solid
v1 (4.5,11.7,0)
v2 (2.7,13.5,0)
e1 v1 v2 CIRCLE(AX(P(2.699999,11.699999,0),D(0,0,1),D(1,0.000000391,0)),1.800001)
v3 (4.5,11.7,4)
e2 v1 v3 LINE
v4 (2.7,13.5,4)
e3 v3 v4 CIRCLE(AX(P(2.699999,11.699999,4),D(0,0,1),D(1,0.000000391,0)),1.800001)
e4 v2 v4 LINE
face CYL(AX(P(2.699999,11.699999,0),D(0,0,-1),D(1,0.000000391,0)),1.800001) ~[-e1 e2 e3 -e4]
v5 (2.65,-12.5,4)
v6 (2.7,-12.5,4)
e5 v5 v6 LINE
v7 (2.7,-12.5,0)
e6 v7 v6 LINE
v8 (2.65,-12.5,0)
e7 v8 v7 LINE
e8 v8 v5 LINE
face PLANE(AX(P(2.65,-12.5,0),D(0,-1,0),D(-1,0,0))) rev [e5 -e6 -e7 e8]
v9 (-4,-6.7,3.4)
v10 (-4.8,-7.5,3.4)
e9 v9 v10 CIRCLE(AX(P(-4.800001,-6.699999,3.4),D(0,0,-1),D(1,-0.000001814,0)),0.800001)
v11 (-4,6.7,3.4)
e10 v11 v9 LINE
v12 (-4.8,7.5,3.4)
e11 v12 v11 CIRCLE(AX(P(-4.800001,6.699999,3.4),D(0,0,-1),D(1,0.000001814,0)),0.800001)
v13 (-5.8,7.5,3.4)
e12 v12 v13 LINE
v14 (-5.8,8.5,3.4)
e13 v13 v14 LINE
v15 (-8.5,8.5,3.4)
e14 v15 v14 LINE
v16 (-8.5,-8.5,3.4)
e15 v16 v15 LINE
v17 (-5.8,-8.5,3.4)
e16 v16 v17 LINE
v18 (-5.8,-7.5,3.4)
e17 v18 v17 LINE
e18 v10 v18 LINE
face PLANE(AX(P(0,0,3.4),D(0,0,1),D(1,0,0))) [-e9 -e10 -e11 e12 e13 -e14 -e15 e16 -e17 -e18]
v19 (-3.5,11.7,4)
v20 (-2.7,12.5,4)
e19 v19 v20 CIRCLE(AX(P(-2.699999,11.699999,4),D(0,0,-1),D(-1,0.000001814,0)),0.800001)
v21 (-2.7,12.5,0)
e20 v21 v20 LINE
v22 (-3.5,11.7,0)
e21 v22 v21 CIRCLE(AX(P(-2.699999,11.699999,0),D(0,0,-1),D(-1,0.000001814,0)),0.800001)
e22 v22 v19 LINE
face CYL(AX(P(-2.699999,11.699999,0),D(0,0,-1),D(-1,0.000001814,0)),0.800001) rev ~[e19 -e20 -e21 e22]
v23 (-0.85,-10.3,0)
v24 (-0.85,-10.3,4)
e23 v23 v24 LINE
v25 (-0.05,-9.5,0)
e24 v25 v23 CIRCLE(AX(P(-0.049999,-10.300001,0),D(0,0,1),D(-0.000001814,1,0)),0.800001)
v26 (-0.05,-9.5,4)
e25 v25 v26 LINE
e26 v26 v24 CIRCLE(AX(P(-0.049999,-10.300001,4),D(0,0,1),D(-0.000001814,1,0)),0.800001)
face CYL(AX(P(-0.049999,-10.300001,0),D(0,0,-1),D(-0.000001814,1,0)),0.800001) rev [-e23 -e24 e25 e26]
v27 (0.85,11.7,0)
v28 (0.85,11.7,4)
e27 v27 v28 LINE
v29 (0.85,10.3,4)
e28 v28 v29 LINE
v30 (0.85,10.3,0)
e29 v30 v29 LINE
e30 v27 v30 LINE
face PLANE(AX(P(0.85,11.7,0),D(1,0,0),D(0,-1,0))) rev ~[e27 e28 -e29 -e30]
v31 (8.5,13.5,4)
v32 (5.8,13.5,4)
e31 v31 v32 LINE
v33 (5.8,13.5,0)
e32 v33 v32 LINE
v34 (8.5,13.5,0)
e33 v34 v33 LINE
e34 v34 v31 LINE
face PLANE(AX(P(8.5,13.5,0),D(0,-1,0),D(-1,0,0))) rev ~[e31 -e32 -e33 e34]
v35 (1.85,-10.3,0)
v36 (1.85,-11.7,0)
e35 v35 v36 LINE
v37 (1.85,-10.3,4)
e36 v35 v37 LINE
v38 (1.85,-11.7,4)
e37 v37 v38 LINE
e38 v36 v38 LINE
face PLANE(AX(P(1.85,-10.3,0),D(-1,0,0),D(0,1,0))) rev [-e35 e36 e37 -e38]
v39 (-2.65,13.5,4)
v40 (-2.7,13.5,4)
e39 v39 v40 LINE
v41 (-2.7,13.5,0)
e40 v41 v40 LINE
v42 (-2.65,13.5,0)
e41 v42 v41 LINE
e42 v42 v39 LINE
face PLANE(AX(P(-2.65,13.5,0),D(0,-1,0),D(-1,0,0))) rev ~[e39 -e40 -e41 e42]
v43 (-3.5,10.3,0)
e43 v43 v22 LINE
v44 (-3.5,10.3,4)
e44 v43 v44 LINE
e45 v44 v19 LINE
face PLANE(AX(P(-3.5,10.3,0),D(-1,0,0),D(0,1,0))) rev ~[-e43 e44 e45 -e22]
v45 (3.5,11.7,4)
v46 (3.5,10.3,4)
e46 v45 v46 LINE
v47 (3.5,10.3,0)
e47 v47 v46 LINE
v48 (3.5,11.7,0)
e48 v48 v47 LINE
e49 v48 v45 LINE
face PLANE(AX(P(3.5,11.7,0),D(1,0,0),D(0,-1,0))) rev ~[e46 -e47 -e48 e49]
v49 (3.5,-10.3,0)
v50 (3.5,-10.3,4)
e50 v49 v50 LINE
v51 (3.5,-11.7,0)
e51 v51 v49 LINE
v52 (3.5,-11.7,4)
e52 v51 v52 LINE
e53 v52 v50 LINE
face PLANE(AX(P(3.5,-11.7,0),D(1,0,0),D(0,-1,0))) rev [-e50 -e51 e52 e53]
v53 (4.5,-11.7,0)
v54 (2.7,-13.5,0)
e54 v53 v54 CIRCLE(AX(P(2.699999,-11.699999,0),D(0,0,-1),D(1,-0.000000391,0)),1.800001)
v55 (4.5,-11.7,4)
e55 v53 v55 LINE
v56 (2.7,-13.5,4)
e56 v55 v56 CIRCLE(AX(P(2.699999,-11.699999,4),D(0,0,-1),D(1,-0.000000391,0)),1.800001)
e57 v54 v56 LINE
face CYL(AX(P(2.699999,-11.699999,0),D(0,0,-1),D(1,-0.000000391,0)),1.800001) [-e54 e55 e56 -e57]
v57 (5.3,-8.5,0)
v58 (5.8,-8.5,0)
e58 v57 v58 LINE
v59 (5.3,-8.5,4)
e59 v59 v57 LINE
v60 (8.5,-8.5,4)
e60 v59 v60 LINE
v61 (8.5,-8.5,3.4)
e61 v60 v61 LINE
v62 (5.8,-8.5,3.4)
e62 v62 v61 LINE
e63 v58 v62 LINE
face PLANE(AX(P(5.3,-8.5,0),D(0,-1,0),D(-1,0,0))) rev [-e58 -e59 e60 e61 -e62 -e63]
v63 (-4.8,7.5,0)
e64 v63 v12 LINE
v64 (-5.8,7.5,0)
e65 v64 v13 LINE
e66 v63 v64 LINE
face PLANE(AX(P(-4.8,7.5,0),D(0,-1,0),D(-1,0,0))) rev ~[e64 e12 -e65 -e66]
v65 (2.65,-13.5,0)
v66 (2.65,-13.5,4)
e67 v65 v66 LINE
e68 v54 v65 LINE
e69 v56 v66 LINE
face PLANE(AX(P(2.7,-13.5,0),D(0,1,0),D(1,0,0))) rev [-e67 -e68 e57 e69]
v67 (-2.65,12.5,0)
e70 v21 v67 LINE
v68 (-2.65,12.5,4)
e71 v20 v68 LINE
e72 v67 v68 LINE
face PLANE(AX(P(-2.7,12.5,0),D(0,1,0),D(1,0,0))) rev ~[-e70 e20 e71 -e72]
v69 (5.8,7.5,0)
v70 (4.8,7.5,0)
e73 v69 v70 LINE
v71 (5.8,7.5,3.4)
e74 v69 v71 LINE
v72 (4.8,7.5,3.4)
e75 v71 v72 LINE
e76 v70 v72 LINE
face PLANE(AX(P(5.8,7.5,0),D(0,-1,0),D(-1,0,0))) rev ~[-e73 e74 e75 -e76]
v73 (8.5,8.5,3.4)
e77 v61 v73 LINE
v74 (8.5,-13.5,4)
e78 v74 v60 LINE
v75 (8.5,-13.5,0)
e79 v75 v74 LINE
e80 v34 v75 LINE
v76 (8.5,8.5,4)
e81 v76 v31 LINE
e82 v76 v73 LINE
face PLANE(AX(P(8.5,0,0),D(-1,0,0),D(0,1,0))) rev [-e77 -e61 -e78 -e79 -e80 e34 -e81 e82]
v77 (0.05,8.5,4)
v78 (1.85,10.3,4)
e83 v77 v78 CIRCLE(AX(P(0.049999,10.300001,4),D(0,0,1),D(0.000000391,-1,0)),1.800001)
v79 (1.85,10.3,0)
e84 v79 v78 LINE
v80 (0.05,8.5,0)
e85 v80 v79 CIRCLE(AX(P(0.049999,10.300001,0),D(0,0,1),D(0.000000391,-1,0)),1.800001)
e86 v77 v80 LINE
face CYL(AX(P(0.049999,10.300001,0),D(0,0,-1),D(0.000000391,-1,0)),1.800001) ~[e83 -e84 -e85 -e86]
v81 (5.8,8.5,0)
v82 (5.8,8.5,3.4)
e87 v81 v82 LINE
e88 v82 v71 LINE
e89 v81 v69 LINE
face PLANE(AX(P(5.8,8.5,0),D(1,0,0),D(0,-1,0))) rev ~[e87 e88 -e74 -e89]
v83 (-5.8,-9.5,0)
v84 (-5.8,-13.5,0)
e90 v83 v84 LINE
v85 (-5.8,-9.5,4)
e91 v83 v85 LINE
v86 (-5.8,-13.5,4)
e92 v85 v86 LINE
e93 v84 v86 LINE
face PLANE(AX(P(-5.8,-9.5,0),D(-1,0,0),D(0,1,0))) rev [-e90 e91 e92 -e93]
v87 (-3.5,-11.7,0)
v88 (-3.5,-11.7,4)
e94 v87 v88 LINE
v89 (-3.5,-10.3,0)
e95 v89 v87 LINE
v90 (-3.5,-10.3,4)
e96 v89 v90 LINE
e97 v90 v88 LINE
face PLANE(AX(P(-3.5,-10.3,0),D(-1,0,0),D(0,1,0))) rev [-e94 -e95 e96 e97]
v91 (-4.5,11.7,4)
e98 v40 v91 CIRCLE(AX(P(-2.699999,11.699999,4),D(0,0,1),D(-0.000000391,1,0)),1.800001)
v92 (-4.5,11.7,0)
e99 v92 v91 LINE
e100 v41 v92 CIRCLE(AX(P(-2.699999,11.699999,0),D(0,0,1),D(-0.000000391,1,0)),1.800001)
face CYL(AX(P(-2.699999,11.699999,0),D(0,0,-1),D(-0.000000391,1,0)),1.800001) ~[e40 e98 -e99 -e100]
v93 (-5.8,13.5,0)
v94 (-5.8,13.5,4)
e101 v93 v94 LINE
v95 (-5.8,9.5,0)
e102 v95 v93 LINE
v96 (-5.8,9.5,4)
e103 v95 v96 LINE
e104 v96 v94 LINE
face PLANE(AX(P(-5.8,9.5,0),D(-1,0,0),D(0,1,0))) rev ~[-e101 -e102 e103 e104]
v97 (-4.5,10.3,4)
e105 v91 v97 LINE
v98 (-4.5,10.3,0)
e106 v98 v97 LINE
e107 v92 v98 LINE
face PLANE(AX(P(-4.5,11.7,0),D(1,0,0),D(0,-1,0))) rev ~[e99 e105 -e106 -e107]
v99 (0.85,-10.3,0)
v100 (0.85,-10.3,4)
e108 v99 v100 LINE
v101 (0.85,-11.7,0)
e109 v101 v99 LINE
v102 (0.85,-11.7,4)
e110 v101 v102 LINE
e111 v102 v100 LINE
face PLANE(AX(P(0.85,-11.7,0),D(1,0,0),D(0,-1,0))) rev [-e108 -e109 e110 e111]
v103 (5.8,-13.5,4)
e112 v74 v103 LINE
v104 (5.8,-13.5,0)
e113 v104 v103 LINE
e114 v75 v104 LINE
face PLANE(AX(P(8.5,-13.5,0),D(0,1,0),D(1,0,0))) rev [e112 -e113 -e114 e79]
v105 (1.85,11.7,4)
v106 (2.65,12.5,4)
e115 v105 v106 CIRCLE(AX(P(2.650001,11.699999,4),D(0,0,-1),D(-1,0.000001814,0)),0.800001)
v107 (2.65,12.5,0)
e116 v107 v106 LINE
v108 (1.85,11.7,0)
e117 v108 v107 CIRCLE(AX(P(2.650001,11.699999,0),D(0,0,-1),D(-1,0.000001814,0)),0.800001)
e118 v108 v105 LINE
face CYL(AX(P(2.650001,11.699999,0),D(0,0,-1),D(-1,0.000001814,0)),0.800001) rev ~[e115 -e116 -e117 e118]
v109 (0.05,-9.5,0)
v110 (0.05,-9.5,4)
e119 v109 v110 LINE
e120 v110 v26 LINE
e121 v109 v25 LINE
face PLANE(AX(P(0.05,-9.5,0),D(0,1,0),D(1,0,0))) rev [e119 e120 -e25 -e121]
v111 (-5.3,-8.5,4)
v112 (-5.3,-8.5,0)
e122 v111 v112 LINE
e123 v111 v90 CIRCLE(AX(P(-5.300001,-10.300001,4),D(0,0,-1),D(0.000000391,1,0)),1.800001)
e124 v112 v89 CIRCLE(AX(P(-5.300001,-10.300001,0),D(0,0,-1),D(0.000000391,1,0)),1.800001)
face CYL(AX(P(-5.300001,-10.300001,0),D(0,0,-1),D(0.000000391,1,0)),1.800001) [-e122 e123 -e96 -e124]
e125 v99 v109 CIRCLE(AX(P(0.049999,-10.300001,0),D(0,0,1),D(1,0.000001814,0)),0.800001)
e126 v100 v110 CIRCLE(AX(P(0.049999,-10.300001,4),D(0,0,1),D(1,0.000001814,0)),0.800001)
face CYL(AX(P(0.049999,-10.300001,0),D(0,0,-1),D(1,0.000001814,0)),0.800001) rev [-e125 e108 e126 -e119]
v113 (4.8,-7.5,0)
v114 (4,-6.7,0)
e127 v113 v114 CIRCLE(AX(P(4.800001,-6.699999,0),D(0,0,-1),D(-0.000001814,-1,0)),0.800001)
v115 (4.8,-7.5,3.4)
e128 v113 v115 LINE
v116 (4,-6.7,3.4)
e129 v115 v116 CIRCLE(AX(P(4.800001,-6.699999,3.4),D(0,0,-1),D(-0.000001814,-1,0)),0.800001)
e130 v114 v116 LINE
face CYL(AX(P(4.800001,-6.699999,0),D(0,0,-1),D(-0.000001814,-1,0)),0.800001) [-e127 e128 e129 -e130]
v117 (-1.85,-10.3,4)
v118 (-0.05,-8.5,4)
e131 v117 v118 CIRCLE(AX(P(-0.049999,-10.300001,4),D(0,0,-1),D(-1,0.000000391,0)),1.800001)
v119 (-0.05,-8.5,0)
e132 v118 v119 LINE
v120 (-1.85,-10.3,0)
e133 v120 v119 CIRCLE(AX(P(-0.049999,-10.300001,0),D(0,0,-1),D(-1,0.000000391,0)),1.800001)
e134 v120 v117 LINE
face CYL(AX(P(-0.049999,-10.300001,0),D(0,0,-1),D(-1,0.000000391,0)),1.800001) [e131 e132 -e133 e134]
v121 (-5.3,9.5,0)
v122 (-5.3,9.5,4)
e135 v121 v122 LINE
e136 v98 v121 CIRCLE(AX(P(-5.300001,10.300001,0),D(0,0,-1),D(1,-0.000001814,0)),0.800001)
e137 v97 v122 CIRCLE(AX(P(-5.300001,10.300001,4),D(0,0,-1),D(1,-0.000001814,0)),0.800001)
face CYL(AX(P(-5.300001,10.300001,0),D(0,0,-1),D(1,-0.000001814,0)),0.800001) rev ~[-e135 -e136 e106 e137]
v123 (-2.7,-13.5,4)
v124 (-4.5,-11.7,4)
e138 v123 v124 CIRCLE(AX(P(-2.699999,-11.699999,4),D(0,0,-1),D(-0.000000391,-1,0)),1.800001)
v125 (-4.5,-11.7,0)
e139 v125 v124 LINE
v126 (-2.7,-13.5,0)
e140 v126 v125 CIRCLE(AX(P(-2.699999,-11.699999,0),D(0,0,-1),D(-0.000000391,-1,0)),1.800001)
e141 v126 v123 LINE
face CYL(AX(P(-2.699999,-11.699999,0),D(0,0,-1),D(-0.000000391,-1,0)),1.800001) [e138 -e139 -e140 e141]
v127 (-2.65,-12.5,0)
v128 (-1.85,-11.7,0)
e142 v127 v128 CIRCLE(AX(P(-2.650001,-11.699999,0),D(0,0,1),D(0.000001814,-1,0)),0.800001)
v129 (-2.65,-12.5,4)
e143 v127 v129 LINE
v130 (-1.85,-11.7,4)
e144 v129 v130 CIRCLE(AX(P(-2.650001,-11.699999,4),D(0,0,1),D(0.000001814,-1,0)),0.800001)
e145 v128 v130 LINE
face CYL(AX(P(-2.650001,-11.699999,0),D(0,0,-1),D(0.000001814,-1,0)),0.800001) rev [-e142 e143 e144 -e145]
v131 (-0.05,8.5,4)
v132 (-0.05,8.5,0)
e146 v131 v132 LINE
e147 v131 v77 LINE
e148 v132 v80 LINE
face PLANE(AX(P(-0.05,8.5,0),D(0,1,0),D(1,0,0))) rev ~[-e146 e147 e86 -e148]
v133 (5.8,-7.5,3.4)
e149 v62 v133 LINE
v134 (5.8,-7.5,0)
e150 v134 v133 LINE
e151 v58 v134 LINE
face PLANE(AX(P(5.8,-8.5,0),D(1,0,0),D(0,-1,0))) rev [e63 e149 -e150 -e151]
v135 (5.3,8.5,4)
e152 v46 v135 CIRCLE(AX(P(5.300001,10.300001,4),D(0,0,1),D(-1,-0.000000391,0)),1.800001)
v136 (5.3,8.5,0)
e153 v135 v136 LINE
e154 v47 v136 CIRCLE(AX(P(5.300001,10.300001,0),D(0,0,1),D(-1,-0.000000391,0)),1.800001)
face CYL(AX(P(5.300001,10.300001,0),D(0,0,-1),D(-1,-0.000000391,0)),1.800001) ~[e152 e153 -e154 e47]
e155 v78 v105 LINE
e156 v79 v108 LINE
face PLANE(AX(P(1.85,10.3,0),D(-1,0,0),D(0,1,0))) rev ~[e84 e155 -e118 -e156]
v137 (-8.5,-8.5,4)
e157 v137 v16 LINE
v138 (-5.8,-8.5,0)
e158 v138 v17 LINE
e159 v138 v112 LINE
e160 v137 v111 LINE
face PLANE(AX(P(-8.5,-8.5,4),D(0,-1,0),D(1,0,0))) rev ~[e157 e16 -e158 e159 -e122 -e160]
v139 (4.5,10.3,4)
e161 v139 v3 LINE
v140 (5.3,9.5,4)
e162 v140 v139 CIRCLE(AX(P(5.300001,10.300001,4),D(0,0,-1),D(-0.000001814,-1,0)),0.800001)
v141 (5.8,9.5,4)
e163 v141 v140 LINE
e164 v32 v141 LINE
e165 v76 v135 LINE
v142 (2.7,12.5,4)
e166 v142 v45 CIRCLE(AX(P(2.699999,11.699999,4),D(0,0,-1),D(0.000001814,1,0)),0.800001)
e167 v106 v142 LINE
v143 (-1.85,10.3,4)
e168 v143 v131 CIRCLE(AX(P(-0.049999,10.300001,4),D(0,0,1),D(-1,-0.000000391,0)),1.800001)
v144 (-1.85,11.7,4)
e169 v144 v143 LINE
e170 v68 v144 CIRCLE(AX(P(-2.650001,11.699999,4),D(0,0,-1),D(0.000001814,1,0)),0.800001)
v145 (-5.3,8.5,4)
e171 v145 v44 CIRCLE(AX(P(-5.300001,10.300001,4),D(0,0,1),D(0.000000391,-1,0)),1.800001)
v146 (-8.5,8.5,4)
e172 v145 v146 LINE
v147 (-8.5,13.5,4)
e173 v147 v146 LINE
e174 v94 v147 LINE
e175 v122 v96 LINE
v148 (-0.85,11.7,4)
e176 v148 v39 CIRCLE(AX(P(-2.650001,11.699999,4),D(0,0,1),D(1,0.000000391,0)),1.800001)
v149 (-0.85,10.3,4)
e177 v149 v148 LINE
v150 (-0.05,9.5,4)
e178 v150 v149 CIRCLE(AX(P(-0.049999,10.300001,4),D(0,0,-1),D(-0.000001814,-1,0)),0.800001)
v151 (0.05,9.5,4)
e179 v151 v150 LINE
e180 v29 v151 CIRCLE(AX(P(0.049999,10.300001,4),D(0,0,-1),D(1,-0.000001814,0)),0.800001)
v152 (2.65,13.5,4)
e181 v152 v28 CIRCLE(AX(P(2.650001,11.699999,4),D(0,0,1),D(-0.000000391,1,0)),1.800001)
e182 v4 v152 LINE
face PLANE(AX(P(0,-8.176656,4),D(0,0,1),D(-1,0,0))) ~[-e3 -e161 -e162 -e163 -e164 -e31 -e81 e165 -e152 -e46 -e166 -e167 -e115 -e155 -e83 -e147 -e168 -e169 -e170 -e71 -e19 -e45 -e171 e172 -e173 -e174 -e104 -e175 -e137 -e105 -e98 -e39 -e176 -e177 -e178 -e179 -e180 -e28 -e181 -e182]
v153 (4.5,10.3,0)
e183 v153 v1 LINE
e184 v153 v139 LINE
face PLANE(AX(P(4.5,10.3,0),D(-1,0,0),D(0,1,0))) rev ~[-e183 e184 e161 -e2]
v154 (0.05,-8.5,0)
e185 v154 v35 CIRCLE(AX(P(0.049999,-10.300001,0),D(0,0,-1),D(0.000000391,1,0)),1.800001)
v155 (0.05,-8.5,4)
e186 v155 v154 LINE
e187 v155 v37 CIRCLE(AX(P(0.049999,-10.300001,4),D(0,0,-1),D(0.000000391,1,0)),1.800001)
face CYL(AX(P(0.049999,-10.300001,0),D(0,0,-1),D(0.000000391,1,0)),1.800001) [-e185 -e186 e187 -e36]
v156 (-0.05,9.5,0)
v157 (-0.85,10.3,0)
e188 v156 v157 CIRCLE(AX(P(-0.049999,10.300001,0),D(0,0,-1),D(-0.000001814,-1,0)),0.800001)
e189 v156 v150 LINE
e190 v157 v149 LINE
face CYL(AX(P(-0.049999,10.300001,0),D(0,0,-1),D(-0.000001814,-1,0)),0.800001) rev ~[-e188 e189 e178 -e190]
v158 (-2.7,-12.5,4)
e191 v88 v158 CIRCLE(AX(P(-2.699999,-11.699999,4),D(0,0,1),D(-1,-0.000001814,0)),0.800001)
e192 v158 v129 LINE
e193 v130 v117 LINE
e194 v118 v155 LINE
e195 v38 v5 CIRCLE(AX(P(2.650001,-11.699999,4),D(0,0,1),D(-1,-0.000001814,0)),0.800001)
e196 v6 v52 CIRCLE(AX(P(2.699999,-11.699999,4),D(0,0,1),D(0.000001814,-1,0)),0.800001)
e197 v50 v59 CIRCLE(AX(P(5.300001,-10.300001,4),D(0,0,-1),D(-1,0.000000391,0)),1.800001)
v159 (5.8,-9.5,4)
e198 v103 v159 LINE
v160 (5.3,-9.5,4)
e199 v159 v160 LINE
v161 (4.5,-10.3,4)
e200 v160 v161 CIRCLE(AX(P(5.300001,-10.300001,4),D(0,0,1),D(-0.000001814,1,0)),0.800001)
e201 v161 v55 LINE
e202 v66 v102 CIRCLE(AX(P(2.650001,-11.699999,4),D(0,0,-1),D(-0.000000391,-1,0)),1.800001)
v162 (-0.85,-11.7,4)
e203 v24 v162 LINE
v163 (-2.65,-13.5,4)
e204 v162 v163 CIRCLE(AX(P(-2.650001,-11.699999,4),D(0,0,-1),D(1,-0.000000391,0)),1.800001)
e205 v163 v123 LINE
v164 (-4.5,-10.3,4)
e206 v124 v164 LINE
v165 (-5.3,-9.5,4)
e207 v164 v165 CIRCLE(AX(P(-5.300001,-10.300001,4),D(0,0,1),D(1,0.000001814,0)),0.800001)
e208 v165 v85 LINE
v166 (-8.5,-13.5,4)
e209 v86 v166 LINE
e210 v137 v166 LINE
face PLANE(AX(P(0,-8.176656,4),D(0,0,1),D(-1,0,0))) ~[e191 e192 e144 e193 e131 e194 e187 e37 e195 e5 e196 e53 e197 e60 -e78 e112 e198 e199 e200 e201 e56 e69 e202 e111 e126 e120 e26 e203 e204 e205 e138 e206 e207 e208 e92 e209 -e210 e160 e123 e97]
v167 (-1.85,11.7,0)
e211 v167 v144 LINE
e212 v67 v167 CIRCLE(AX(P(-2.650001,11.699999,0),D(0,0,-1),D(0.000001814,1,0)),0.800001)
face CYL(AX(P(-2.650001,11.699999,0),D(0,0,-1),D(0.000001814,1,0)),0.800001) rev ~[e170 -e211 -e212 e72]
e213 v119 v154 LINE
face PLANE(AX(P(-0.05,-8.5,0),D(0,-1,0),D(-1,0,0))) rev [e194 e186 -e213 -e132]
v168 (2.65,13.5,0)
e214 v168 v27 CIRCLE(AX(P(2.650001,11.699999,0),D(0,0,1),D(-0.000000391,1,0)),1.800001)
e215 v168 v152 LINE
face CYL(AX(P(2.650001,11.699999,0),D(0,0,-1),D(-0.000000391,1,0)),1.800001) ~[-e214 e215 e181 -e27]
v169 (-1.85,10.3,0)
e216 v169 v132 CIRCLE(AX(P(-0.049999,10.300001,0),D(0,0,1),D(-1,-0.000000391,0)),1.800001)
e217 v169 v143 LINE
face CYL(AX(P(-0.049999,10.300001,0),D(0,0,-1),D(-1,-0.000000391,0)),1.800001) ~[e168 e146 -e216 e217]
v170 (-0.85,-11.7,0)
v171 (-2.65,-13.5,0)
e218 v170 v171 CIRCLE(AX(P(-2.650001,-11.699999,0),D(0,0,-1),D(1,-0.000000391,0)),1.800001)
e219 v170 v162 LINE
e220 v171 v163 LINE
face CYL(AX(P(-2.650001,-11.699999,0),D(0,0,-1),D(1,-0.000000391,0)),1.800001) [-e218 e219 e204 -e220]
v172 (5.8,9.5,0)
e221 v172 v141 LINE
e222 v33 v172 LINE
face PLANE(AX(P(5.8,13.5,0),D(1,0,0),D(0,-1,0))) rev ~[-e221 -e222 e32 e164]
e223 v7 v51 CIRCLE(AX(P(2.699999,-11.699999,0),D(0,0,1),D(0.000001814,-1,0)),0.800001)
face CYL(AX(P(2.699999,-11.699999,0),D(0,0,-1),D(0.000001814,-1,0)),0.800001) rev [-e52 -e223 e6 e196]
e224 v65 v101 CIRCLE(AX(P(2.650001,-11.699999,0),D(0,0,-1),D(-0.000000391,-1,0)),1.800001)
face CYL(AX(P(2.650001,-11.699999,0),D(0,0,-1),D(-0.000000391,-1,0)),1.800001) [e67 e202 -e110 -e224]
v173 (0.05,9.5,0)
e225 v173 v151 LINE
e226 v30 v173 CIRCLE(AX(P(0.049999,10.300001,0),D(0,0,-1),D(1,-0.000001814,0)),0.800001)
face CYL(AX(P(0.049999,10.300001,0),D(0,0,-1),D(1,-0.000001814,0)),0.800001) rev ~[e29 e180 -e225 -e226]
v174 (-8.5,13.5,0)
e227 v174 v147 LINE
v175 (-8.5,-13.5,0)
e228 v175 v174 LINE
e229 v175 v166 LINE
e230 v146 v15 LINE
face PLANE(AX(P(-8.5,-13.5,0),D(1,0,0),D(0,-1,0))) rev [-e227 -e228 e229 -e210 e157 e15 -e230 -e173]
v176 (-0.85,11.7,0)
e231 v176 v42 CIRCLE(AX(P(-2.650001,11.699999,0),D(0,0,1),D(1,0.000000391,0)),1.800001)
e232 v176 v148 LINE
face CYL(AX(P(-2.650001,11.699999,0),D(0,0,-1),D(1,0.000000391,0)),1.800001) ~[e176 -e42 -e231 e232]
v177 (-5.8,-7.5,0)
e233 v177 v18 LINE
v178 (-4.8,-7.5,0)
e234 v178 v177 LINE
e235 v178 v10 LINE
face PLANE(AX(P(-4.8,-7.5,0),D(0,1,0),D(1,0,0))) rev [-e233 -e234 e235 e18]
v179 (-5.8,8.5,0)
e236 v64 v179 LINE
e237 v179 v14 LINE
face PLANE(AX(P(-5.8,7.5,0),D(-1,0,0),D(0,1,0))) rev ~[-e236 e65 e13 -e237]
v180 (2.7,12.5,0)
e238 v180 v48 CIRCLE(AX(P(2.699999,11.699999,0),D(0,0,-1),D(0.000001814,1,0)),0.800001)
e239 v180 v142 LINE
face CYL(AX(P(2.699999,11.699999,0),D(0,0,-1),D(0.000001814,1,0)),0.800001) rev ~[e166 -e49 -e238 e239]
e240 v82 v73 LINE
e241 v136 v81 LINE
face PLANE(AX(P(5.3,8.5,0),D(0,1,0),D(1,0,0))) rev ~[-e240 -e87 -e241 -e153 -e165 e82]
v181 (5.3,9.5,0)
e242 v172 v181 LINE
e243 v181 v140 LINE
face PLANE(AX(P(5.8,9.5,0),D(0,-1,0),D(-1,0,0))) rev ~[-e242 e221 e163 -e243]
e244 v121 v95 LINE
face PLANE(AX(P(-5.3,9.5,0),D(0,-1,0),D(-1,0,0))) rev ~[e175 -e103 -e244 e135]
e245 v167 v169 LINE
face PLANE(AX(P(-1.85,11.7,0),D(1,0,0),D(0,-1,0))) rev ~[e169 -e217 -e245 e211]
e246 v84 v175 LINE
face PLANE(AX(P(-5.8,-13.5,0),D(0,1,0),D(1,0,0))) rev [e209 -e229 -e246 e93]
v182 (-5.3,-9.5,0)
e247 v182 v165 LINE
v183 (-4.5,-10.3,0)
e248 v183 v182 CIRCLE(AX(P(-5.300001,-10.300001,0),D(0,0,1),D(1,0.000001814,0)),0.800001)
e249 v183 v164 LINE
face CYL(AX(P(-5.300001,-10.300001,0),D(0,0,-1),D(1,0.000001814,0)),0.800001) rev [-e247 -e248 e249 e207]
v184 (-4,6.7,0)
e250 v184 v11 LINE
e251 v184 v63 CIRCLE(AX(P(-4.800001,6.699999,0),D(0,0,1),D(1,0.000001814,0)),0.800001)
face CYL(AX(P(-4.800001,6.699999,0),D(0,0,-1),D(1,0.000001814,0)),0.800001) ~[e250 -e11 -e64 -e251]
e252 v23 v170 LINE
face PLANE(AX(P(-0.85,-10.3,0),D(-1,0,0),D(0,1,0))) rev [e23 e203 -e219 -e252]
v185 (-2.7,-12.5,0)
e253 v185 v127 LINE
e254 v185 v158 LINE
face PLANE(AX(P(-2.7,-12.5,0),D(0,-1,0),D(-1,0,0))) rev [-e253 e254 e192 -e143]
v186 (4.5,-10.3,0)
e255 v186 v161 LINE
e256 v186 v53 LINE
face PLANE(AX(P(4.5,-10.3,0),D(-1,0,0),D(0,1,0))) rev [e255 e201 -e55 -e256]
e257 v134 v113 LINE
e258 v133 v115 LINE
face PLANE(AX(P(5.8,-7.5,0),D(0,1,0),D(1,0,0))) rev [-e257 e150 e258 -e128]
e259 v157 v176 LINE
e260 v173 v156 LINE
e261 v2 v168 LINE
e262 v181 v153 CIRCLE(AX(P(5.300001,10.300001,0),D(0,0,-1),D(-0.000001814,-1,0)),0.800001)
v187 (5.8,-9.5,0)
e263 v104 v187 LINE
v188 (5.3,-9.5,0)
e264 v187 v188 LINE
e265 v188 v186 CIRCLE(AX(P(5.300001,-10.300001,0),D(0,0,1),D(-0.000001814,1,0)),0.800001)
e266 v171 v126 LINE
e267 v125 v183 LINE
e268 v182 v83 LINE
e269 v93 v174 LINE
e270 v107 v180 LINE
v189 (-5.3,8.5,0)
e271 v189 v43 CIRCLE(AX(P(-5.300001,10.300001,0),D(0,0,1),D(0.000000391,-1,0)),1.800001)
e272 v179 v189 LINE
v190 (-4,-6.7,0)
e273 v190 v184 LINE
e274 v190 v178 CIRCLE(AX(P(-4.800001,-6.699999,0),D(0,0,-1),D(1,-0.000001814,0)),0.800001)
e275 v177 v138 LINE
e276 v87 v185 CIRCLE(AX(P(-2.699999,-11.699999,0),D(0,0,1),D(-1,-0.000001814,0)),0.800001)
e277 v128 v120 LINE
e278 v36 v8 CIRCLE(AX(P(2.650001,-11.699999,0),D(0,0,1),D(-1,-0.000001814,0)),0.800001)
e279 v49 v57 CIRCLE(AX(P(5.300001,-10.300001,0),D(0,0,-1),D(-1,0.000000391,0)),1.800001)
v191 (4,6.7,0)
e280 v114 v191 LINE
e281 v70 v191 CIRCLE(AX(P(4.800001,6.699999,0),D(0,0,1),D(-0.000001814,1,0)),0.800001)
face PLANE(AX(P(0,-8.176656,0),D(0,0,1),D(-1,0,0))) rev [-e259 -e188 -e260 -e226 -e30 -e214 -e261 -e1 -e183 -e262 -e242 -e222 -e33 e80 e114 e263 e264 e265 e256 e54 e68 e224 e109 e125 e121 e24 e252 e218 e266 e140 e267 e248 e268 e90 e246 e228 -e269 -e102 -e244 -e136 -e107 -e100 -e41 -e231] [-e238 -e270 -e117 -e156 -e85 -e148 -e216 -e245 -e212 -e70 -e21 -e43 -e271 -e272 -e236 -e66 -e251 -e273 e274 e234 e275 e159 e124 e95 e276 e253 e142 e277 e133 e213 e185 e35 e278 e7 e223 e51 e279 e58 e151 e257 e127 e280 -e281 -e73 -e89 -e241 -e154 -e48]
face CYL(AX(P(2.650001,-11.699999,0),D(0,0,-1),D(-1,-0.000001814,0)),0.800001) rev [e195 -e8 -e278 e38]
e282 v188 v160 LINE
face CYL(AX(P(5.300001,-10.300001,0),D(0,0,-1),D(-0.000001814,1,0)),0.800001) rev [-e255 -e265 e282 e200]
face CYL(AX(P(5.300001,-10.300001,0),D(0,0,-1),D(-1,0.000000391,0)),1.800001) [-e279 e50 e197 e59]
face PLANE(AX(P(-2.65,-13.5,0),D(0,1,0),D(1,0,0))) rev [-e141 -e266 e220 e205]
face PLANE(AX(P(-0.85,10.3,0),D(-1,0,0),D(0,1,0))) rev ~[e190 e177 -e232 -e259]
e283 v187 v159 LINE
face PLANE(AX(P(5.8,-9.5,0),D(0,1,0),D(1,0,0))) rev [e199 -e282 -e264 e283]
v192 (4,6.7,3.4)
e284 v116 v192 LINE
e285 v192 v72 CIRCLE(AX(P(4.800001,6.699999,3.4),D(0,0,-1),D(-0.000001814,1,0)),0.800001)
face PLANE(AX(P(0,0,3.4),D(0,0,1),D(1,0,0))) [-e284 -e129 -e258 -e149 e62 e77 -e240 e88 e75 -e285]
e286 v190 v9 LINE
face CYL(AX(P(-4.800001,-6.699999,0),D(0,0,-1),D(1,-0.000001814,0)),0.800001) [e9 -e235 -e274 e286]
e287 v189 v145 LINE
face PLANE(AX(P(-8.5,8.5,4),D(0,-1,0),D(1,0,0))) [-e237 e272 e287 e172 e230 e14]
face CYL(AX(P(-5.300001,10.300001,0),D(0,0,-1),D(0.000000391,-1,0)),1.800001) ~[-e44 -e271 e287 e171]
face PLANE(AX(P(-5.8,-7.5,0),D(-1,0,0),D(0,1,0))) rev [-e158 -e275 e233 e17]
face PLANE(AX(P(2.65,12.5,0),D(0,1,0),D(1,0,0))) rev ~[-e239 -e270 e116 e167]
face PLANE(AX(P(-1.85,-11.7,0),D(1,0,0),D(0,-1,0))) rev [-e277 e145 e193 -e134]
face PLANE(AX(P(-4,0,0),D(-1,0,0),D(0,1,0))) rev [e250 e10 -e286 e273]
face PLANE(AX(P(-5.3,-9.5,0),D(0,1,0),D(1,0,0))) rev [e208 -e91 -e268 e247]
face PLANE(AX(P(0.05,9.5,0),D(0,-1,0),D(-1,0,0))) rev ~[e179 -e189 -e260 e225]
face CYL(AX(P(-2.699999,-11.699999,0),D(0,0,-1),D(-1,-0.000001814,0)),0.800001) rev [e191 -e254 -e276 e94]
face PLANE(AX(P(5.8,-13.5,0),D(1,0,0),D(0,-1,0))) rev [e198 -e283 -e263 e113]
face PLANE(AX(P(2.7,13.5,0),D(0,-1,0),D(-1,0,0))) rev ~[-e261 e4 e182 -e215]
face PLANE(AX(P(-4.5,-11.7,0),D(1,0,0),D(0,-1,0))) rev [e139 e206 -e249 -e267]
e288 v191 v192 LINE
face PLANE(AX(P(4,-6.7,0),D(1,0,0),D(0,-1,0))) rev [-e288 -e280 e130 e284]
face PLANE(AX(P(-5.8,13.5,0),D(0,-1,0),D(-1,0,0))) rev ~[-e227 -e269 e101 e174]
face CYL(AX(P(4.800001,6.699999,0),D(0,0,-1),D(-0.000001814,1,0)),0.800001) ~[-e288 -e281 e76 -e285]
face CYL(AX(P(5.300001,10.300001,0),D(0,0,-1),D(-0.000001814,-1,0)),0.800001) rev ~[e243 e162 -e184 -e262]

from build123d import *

# Parameters (mm, degrees)
F1_DEPTH = 4
F3_W     = 17
F3_H     = 17
F4_DEPTH = 0.6


with BuildPart() as f1:
    # F0 (on Top) → F1 (new body)
    with BuildSketch(Plane.XY):
        with BuildLine():
            Line((-8.5, 0), (-4, 0))
            Line((-4, 0), (-4, 6.7))
            ThreePointArc((-4, 6.7), (-4.234315, 7.265685), (-4.8, 7.5))
            Line((-4.8, 7.5), (-5.8, 7.5))
            Line((-5.8, 7.5), (-5.8, 8.5))
            Line((-5.8, 8.5), (-5.3, 8.5))
            ThreePointArc((-5.3, 8.5), (-4.027208, 9.027208), (-3.5, 10.3))
            Line((-3.5, 10.3), (-3.5, 11.7))
            ThreePointArc((-3.5, 11.7), (-3.265685, 12.265685), (-2.7, 12.5))
            Line((-2.7, 12.5), (-2.65, 12.5))
            ThreePointArc((-2.65, 12.5), (-2.084315, 12.265685), (-1.85, 11.7))
            Line((-1.85, 11.7), (-1.85, 10.3))
            ThreePointArc((-1.85, 10.3), (-1.322792, 9.027208), (-0.05, 8.5))
            Line((-0.05, 8.5), (0.05, 8.5))
            ThreePointArc((0.05, 8.5), (1.322792, 9.027208), (1.85, 10.3))
            Line((1.85, 10.3), (1.85, 11.7))
            ThreePointArc((1.85, 11.7), (2.084315, 12.265685), (2.65, 12.5))
            Line((2.65, 12.5), (2.7, 12.5))
            ThreePointArc((2.7, 12.5), (3.265685, 12.265685), (3.5, 11.7))
            Line((3.5, 11.7), (3.5, 10.3))
            ThreePointArc((3.5, 10.3), (4.027208, 9.027208), (5.3, 8.5))
            Line((5.3, 8.5), (5.8, 8.5))
            Line((5.8, 8.5), (5.8, 7.5))
            Line((5.8, 7.5), (4.8, 7.5))
            ThreePointArc((4.8, 7.5), (4.234315, 7.265685), (4, 6.7))
            Line((4, 6.7), (4, 0))
            Line((4, 0), (8.5, 0))
            Line((8.5, 0), (8.5, 13.5))
            Line((8.5, 13.5), (5.8, 13.5))
            Line((5.8, 13.5), (5.8, 9.5))
            Line((5.8, 9.5), (5.3, 9.5))
            ThreePointArc((5.3, 9.5), (4.734315, 9.734315), (4.5, 10.3))
            Line((4.5, 10.3), (4.5, 11.7))
            ThreePointArc((4.5, 11.7), (3.972792, 12.972792), (2.7, 13.5))
            Line((2.7, 13.5), (2.65, 13.5))
            ThreePointArc((2.65, 13.5), (1.377208, 12.972792), (0.85, 11.7))
            Line((0.85, 11.7), (0.85, 10.3))
            ThreePointArc((0.85, 10.3), (0.615685, 9.734315), (0.05, 9.5))
            Line((0.05, 9.5), (-0.05, 9.5))
            ThreePointArc((-0.05, 9.5), (-0.615685, 9.734315), (-0.85, 10.3))
            Line((-0.85, 10.3), (-0.85, 11.7))
            ThreePointArc((-0.85, 11.7), (-1.377208, 12.972792), (-2.65, 13.5))
            Line((-2.65, 13.5), (-2.7, 13.5))
            ThreePointArc((-2.7, 13.5), (-3.972792, 12.972792), (-4.5, 11.7))
            Line((-4.5, 11.7), (-4.5, 10.3))
            ThreePointArc((-4.5, 10.3), (-4.734315, 9.734315), (-5.3, 9.5))
            Line((-5.3, 9.5), (-5.8, 9.5))
            Line((-5.8, 9.5), (-5.8, 13.5))
            Line((-5.8, 13.5), (-8.5, 13.5))
            Line((-8.5, 13.5), (-8.5, 0))
        make_face()
    extrude(amount=F1_DEPTH)

    # F2: F1 across plane


with BuildPart() as f1_1:
    add(f1.part)
    add(f1.part.mirror(Plane.XZ))

    # F3 (on face) → F4 (cut)
    with BuildSketch(Plane.XY.offset(4)):
        Rectangle(F3_W, F3_H)
    extrude(amount=-F4_DEPTH, mode=Mode.SUBTRACT)


solid = f1_1.part
